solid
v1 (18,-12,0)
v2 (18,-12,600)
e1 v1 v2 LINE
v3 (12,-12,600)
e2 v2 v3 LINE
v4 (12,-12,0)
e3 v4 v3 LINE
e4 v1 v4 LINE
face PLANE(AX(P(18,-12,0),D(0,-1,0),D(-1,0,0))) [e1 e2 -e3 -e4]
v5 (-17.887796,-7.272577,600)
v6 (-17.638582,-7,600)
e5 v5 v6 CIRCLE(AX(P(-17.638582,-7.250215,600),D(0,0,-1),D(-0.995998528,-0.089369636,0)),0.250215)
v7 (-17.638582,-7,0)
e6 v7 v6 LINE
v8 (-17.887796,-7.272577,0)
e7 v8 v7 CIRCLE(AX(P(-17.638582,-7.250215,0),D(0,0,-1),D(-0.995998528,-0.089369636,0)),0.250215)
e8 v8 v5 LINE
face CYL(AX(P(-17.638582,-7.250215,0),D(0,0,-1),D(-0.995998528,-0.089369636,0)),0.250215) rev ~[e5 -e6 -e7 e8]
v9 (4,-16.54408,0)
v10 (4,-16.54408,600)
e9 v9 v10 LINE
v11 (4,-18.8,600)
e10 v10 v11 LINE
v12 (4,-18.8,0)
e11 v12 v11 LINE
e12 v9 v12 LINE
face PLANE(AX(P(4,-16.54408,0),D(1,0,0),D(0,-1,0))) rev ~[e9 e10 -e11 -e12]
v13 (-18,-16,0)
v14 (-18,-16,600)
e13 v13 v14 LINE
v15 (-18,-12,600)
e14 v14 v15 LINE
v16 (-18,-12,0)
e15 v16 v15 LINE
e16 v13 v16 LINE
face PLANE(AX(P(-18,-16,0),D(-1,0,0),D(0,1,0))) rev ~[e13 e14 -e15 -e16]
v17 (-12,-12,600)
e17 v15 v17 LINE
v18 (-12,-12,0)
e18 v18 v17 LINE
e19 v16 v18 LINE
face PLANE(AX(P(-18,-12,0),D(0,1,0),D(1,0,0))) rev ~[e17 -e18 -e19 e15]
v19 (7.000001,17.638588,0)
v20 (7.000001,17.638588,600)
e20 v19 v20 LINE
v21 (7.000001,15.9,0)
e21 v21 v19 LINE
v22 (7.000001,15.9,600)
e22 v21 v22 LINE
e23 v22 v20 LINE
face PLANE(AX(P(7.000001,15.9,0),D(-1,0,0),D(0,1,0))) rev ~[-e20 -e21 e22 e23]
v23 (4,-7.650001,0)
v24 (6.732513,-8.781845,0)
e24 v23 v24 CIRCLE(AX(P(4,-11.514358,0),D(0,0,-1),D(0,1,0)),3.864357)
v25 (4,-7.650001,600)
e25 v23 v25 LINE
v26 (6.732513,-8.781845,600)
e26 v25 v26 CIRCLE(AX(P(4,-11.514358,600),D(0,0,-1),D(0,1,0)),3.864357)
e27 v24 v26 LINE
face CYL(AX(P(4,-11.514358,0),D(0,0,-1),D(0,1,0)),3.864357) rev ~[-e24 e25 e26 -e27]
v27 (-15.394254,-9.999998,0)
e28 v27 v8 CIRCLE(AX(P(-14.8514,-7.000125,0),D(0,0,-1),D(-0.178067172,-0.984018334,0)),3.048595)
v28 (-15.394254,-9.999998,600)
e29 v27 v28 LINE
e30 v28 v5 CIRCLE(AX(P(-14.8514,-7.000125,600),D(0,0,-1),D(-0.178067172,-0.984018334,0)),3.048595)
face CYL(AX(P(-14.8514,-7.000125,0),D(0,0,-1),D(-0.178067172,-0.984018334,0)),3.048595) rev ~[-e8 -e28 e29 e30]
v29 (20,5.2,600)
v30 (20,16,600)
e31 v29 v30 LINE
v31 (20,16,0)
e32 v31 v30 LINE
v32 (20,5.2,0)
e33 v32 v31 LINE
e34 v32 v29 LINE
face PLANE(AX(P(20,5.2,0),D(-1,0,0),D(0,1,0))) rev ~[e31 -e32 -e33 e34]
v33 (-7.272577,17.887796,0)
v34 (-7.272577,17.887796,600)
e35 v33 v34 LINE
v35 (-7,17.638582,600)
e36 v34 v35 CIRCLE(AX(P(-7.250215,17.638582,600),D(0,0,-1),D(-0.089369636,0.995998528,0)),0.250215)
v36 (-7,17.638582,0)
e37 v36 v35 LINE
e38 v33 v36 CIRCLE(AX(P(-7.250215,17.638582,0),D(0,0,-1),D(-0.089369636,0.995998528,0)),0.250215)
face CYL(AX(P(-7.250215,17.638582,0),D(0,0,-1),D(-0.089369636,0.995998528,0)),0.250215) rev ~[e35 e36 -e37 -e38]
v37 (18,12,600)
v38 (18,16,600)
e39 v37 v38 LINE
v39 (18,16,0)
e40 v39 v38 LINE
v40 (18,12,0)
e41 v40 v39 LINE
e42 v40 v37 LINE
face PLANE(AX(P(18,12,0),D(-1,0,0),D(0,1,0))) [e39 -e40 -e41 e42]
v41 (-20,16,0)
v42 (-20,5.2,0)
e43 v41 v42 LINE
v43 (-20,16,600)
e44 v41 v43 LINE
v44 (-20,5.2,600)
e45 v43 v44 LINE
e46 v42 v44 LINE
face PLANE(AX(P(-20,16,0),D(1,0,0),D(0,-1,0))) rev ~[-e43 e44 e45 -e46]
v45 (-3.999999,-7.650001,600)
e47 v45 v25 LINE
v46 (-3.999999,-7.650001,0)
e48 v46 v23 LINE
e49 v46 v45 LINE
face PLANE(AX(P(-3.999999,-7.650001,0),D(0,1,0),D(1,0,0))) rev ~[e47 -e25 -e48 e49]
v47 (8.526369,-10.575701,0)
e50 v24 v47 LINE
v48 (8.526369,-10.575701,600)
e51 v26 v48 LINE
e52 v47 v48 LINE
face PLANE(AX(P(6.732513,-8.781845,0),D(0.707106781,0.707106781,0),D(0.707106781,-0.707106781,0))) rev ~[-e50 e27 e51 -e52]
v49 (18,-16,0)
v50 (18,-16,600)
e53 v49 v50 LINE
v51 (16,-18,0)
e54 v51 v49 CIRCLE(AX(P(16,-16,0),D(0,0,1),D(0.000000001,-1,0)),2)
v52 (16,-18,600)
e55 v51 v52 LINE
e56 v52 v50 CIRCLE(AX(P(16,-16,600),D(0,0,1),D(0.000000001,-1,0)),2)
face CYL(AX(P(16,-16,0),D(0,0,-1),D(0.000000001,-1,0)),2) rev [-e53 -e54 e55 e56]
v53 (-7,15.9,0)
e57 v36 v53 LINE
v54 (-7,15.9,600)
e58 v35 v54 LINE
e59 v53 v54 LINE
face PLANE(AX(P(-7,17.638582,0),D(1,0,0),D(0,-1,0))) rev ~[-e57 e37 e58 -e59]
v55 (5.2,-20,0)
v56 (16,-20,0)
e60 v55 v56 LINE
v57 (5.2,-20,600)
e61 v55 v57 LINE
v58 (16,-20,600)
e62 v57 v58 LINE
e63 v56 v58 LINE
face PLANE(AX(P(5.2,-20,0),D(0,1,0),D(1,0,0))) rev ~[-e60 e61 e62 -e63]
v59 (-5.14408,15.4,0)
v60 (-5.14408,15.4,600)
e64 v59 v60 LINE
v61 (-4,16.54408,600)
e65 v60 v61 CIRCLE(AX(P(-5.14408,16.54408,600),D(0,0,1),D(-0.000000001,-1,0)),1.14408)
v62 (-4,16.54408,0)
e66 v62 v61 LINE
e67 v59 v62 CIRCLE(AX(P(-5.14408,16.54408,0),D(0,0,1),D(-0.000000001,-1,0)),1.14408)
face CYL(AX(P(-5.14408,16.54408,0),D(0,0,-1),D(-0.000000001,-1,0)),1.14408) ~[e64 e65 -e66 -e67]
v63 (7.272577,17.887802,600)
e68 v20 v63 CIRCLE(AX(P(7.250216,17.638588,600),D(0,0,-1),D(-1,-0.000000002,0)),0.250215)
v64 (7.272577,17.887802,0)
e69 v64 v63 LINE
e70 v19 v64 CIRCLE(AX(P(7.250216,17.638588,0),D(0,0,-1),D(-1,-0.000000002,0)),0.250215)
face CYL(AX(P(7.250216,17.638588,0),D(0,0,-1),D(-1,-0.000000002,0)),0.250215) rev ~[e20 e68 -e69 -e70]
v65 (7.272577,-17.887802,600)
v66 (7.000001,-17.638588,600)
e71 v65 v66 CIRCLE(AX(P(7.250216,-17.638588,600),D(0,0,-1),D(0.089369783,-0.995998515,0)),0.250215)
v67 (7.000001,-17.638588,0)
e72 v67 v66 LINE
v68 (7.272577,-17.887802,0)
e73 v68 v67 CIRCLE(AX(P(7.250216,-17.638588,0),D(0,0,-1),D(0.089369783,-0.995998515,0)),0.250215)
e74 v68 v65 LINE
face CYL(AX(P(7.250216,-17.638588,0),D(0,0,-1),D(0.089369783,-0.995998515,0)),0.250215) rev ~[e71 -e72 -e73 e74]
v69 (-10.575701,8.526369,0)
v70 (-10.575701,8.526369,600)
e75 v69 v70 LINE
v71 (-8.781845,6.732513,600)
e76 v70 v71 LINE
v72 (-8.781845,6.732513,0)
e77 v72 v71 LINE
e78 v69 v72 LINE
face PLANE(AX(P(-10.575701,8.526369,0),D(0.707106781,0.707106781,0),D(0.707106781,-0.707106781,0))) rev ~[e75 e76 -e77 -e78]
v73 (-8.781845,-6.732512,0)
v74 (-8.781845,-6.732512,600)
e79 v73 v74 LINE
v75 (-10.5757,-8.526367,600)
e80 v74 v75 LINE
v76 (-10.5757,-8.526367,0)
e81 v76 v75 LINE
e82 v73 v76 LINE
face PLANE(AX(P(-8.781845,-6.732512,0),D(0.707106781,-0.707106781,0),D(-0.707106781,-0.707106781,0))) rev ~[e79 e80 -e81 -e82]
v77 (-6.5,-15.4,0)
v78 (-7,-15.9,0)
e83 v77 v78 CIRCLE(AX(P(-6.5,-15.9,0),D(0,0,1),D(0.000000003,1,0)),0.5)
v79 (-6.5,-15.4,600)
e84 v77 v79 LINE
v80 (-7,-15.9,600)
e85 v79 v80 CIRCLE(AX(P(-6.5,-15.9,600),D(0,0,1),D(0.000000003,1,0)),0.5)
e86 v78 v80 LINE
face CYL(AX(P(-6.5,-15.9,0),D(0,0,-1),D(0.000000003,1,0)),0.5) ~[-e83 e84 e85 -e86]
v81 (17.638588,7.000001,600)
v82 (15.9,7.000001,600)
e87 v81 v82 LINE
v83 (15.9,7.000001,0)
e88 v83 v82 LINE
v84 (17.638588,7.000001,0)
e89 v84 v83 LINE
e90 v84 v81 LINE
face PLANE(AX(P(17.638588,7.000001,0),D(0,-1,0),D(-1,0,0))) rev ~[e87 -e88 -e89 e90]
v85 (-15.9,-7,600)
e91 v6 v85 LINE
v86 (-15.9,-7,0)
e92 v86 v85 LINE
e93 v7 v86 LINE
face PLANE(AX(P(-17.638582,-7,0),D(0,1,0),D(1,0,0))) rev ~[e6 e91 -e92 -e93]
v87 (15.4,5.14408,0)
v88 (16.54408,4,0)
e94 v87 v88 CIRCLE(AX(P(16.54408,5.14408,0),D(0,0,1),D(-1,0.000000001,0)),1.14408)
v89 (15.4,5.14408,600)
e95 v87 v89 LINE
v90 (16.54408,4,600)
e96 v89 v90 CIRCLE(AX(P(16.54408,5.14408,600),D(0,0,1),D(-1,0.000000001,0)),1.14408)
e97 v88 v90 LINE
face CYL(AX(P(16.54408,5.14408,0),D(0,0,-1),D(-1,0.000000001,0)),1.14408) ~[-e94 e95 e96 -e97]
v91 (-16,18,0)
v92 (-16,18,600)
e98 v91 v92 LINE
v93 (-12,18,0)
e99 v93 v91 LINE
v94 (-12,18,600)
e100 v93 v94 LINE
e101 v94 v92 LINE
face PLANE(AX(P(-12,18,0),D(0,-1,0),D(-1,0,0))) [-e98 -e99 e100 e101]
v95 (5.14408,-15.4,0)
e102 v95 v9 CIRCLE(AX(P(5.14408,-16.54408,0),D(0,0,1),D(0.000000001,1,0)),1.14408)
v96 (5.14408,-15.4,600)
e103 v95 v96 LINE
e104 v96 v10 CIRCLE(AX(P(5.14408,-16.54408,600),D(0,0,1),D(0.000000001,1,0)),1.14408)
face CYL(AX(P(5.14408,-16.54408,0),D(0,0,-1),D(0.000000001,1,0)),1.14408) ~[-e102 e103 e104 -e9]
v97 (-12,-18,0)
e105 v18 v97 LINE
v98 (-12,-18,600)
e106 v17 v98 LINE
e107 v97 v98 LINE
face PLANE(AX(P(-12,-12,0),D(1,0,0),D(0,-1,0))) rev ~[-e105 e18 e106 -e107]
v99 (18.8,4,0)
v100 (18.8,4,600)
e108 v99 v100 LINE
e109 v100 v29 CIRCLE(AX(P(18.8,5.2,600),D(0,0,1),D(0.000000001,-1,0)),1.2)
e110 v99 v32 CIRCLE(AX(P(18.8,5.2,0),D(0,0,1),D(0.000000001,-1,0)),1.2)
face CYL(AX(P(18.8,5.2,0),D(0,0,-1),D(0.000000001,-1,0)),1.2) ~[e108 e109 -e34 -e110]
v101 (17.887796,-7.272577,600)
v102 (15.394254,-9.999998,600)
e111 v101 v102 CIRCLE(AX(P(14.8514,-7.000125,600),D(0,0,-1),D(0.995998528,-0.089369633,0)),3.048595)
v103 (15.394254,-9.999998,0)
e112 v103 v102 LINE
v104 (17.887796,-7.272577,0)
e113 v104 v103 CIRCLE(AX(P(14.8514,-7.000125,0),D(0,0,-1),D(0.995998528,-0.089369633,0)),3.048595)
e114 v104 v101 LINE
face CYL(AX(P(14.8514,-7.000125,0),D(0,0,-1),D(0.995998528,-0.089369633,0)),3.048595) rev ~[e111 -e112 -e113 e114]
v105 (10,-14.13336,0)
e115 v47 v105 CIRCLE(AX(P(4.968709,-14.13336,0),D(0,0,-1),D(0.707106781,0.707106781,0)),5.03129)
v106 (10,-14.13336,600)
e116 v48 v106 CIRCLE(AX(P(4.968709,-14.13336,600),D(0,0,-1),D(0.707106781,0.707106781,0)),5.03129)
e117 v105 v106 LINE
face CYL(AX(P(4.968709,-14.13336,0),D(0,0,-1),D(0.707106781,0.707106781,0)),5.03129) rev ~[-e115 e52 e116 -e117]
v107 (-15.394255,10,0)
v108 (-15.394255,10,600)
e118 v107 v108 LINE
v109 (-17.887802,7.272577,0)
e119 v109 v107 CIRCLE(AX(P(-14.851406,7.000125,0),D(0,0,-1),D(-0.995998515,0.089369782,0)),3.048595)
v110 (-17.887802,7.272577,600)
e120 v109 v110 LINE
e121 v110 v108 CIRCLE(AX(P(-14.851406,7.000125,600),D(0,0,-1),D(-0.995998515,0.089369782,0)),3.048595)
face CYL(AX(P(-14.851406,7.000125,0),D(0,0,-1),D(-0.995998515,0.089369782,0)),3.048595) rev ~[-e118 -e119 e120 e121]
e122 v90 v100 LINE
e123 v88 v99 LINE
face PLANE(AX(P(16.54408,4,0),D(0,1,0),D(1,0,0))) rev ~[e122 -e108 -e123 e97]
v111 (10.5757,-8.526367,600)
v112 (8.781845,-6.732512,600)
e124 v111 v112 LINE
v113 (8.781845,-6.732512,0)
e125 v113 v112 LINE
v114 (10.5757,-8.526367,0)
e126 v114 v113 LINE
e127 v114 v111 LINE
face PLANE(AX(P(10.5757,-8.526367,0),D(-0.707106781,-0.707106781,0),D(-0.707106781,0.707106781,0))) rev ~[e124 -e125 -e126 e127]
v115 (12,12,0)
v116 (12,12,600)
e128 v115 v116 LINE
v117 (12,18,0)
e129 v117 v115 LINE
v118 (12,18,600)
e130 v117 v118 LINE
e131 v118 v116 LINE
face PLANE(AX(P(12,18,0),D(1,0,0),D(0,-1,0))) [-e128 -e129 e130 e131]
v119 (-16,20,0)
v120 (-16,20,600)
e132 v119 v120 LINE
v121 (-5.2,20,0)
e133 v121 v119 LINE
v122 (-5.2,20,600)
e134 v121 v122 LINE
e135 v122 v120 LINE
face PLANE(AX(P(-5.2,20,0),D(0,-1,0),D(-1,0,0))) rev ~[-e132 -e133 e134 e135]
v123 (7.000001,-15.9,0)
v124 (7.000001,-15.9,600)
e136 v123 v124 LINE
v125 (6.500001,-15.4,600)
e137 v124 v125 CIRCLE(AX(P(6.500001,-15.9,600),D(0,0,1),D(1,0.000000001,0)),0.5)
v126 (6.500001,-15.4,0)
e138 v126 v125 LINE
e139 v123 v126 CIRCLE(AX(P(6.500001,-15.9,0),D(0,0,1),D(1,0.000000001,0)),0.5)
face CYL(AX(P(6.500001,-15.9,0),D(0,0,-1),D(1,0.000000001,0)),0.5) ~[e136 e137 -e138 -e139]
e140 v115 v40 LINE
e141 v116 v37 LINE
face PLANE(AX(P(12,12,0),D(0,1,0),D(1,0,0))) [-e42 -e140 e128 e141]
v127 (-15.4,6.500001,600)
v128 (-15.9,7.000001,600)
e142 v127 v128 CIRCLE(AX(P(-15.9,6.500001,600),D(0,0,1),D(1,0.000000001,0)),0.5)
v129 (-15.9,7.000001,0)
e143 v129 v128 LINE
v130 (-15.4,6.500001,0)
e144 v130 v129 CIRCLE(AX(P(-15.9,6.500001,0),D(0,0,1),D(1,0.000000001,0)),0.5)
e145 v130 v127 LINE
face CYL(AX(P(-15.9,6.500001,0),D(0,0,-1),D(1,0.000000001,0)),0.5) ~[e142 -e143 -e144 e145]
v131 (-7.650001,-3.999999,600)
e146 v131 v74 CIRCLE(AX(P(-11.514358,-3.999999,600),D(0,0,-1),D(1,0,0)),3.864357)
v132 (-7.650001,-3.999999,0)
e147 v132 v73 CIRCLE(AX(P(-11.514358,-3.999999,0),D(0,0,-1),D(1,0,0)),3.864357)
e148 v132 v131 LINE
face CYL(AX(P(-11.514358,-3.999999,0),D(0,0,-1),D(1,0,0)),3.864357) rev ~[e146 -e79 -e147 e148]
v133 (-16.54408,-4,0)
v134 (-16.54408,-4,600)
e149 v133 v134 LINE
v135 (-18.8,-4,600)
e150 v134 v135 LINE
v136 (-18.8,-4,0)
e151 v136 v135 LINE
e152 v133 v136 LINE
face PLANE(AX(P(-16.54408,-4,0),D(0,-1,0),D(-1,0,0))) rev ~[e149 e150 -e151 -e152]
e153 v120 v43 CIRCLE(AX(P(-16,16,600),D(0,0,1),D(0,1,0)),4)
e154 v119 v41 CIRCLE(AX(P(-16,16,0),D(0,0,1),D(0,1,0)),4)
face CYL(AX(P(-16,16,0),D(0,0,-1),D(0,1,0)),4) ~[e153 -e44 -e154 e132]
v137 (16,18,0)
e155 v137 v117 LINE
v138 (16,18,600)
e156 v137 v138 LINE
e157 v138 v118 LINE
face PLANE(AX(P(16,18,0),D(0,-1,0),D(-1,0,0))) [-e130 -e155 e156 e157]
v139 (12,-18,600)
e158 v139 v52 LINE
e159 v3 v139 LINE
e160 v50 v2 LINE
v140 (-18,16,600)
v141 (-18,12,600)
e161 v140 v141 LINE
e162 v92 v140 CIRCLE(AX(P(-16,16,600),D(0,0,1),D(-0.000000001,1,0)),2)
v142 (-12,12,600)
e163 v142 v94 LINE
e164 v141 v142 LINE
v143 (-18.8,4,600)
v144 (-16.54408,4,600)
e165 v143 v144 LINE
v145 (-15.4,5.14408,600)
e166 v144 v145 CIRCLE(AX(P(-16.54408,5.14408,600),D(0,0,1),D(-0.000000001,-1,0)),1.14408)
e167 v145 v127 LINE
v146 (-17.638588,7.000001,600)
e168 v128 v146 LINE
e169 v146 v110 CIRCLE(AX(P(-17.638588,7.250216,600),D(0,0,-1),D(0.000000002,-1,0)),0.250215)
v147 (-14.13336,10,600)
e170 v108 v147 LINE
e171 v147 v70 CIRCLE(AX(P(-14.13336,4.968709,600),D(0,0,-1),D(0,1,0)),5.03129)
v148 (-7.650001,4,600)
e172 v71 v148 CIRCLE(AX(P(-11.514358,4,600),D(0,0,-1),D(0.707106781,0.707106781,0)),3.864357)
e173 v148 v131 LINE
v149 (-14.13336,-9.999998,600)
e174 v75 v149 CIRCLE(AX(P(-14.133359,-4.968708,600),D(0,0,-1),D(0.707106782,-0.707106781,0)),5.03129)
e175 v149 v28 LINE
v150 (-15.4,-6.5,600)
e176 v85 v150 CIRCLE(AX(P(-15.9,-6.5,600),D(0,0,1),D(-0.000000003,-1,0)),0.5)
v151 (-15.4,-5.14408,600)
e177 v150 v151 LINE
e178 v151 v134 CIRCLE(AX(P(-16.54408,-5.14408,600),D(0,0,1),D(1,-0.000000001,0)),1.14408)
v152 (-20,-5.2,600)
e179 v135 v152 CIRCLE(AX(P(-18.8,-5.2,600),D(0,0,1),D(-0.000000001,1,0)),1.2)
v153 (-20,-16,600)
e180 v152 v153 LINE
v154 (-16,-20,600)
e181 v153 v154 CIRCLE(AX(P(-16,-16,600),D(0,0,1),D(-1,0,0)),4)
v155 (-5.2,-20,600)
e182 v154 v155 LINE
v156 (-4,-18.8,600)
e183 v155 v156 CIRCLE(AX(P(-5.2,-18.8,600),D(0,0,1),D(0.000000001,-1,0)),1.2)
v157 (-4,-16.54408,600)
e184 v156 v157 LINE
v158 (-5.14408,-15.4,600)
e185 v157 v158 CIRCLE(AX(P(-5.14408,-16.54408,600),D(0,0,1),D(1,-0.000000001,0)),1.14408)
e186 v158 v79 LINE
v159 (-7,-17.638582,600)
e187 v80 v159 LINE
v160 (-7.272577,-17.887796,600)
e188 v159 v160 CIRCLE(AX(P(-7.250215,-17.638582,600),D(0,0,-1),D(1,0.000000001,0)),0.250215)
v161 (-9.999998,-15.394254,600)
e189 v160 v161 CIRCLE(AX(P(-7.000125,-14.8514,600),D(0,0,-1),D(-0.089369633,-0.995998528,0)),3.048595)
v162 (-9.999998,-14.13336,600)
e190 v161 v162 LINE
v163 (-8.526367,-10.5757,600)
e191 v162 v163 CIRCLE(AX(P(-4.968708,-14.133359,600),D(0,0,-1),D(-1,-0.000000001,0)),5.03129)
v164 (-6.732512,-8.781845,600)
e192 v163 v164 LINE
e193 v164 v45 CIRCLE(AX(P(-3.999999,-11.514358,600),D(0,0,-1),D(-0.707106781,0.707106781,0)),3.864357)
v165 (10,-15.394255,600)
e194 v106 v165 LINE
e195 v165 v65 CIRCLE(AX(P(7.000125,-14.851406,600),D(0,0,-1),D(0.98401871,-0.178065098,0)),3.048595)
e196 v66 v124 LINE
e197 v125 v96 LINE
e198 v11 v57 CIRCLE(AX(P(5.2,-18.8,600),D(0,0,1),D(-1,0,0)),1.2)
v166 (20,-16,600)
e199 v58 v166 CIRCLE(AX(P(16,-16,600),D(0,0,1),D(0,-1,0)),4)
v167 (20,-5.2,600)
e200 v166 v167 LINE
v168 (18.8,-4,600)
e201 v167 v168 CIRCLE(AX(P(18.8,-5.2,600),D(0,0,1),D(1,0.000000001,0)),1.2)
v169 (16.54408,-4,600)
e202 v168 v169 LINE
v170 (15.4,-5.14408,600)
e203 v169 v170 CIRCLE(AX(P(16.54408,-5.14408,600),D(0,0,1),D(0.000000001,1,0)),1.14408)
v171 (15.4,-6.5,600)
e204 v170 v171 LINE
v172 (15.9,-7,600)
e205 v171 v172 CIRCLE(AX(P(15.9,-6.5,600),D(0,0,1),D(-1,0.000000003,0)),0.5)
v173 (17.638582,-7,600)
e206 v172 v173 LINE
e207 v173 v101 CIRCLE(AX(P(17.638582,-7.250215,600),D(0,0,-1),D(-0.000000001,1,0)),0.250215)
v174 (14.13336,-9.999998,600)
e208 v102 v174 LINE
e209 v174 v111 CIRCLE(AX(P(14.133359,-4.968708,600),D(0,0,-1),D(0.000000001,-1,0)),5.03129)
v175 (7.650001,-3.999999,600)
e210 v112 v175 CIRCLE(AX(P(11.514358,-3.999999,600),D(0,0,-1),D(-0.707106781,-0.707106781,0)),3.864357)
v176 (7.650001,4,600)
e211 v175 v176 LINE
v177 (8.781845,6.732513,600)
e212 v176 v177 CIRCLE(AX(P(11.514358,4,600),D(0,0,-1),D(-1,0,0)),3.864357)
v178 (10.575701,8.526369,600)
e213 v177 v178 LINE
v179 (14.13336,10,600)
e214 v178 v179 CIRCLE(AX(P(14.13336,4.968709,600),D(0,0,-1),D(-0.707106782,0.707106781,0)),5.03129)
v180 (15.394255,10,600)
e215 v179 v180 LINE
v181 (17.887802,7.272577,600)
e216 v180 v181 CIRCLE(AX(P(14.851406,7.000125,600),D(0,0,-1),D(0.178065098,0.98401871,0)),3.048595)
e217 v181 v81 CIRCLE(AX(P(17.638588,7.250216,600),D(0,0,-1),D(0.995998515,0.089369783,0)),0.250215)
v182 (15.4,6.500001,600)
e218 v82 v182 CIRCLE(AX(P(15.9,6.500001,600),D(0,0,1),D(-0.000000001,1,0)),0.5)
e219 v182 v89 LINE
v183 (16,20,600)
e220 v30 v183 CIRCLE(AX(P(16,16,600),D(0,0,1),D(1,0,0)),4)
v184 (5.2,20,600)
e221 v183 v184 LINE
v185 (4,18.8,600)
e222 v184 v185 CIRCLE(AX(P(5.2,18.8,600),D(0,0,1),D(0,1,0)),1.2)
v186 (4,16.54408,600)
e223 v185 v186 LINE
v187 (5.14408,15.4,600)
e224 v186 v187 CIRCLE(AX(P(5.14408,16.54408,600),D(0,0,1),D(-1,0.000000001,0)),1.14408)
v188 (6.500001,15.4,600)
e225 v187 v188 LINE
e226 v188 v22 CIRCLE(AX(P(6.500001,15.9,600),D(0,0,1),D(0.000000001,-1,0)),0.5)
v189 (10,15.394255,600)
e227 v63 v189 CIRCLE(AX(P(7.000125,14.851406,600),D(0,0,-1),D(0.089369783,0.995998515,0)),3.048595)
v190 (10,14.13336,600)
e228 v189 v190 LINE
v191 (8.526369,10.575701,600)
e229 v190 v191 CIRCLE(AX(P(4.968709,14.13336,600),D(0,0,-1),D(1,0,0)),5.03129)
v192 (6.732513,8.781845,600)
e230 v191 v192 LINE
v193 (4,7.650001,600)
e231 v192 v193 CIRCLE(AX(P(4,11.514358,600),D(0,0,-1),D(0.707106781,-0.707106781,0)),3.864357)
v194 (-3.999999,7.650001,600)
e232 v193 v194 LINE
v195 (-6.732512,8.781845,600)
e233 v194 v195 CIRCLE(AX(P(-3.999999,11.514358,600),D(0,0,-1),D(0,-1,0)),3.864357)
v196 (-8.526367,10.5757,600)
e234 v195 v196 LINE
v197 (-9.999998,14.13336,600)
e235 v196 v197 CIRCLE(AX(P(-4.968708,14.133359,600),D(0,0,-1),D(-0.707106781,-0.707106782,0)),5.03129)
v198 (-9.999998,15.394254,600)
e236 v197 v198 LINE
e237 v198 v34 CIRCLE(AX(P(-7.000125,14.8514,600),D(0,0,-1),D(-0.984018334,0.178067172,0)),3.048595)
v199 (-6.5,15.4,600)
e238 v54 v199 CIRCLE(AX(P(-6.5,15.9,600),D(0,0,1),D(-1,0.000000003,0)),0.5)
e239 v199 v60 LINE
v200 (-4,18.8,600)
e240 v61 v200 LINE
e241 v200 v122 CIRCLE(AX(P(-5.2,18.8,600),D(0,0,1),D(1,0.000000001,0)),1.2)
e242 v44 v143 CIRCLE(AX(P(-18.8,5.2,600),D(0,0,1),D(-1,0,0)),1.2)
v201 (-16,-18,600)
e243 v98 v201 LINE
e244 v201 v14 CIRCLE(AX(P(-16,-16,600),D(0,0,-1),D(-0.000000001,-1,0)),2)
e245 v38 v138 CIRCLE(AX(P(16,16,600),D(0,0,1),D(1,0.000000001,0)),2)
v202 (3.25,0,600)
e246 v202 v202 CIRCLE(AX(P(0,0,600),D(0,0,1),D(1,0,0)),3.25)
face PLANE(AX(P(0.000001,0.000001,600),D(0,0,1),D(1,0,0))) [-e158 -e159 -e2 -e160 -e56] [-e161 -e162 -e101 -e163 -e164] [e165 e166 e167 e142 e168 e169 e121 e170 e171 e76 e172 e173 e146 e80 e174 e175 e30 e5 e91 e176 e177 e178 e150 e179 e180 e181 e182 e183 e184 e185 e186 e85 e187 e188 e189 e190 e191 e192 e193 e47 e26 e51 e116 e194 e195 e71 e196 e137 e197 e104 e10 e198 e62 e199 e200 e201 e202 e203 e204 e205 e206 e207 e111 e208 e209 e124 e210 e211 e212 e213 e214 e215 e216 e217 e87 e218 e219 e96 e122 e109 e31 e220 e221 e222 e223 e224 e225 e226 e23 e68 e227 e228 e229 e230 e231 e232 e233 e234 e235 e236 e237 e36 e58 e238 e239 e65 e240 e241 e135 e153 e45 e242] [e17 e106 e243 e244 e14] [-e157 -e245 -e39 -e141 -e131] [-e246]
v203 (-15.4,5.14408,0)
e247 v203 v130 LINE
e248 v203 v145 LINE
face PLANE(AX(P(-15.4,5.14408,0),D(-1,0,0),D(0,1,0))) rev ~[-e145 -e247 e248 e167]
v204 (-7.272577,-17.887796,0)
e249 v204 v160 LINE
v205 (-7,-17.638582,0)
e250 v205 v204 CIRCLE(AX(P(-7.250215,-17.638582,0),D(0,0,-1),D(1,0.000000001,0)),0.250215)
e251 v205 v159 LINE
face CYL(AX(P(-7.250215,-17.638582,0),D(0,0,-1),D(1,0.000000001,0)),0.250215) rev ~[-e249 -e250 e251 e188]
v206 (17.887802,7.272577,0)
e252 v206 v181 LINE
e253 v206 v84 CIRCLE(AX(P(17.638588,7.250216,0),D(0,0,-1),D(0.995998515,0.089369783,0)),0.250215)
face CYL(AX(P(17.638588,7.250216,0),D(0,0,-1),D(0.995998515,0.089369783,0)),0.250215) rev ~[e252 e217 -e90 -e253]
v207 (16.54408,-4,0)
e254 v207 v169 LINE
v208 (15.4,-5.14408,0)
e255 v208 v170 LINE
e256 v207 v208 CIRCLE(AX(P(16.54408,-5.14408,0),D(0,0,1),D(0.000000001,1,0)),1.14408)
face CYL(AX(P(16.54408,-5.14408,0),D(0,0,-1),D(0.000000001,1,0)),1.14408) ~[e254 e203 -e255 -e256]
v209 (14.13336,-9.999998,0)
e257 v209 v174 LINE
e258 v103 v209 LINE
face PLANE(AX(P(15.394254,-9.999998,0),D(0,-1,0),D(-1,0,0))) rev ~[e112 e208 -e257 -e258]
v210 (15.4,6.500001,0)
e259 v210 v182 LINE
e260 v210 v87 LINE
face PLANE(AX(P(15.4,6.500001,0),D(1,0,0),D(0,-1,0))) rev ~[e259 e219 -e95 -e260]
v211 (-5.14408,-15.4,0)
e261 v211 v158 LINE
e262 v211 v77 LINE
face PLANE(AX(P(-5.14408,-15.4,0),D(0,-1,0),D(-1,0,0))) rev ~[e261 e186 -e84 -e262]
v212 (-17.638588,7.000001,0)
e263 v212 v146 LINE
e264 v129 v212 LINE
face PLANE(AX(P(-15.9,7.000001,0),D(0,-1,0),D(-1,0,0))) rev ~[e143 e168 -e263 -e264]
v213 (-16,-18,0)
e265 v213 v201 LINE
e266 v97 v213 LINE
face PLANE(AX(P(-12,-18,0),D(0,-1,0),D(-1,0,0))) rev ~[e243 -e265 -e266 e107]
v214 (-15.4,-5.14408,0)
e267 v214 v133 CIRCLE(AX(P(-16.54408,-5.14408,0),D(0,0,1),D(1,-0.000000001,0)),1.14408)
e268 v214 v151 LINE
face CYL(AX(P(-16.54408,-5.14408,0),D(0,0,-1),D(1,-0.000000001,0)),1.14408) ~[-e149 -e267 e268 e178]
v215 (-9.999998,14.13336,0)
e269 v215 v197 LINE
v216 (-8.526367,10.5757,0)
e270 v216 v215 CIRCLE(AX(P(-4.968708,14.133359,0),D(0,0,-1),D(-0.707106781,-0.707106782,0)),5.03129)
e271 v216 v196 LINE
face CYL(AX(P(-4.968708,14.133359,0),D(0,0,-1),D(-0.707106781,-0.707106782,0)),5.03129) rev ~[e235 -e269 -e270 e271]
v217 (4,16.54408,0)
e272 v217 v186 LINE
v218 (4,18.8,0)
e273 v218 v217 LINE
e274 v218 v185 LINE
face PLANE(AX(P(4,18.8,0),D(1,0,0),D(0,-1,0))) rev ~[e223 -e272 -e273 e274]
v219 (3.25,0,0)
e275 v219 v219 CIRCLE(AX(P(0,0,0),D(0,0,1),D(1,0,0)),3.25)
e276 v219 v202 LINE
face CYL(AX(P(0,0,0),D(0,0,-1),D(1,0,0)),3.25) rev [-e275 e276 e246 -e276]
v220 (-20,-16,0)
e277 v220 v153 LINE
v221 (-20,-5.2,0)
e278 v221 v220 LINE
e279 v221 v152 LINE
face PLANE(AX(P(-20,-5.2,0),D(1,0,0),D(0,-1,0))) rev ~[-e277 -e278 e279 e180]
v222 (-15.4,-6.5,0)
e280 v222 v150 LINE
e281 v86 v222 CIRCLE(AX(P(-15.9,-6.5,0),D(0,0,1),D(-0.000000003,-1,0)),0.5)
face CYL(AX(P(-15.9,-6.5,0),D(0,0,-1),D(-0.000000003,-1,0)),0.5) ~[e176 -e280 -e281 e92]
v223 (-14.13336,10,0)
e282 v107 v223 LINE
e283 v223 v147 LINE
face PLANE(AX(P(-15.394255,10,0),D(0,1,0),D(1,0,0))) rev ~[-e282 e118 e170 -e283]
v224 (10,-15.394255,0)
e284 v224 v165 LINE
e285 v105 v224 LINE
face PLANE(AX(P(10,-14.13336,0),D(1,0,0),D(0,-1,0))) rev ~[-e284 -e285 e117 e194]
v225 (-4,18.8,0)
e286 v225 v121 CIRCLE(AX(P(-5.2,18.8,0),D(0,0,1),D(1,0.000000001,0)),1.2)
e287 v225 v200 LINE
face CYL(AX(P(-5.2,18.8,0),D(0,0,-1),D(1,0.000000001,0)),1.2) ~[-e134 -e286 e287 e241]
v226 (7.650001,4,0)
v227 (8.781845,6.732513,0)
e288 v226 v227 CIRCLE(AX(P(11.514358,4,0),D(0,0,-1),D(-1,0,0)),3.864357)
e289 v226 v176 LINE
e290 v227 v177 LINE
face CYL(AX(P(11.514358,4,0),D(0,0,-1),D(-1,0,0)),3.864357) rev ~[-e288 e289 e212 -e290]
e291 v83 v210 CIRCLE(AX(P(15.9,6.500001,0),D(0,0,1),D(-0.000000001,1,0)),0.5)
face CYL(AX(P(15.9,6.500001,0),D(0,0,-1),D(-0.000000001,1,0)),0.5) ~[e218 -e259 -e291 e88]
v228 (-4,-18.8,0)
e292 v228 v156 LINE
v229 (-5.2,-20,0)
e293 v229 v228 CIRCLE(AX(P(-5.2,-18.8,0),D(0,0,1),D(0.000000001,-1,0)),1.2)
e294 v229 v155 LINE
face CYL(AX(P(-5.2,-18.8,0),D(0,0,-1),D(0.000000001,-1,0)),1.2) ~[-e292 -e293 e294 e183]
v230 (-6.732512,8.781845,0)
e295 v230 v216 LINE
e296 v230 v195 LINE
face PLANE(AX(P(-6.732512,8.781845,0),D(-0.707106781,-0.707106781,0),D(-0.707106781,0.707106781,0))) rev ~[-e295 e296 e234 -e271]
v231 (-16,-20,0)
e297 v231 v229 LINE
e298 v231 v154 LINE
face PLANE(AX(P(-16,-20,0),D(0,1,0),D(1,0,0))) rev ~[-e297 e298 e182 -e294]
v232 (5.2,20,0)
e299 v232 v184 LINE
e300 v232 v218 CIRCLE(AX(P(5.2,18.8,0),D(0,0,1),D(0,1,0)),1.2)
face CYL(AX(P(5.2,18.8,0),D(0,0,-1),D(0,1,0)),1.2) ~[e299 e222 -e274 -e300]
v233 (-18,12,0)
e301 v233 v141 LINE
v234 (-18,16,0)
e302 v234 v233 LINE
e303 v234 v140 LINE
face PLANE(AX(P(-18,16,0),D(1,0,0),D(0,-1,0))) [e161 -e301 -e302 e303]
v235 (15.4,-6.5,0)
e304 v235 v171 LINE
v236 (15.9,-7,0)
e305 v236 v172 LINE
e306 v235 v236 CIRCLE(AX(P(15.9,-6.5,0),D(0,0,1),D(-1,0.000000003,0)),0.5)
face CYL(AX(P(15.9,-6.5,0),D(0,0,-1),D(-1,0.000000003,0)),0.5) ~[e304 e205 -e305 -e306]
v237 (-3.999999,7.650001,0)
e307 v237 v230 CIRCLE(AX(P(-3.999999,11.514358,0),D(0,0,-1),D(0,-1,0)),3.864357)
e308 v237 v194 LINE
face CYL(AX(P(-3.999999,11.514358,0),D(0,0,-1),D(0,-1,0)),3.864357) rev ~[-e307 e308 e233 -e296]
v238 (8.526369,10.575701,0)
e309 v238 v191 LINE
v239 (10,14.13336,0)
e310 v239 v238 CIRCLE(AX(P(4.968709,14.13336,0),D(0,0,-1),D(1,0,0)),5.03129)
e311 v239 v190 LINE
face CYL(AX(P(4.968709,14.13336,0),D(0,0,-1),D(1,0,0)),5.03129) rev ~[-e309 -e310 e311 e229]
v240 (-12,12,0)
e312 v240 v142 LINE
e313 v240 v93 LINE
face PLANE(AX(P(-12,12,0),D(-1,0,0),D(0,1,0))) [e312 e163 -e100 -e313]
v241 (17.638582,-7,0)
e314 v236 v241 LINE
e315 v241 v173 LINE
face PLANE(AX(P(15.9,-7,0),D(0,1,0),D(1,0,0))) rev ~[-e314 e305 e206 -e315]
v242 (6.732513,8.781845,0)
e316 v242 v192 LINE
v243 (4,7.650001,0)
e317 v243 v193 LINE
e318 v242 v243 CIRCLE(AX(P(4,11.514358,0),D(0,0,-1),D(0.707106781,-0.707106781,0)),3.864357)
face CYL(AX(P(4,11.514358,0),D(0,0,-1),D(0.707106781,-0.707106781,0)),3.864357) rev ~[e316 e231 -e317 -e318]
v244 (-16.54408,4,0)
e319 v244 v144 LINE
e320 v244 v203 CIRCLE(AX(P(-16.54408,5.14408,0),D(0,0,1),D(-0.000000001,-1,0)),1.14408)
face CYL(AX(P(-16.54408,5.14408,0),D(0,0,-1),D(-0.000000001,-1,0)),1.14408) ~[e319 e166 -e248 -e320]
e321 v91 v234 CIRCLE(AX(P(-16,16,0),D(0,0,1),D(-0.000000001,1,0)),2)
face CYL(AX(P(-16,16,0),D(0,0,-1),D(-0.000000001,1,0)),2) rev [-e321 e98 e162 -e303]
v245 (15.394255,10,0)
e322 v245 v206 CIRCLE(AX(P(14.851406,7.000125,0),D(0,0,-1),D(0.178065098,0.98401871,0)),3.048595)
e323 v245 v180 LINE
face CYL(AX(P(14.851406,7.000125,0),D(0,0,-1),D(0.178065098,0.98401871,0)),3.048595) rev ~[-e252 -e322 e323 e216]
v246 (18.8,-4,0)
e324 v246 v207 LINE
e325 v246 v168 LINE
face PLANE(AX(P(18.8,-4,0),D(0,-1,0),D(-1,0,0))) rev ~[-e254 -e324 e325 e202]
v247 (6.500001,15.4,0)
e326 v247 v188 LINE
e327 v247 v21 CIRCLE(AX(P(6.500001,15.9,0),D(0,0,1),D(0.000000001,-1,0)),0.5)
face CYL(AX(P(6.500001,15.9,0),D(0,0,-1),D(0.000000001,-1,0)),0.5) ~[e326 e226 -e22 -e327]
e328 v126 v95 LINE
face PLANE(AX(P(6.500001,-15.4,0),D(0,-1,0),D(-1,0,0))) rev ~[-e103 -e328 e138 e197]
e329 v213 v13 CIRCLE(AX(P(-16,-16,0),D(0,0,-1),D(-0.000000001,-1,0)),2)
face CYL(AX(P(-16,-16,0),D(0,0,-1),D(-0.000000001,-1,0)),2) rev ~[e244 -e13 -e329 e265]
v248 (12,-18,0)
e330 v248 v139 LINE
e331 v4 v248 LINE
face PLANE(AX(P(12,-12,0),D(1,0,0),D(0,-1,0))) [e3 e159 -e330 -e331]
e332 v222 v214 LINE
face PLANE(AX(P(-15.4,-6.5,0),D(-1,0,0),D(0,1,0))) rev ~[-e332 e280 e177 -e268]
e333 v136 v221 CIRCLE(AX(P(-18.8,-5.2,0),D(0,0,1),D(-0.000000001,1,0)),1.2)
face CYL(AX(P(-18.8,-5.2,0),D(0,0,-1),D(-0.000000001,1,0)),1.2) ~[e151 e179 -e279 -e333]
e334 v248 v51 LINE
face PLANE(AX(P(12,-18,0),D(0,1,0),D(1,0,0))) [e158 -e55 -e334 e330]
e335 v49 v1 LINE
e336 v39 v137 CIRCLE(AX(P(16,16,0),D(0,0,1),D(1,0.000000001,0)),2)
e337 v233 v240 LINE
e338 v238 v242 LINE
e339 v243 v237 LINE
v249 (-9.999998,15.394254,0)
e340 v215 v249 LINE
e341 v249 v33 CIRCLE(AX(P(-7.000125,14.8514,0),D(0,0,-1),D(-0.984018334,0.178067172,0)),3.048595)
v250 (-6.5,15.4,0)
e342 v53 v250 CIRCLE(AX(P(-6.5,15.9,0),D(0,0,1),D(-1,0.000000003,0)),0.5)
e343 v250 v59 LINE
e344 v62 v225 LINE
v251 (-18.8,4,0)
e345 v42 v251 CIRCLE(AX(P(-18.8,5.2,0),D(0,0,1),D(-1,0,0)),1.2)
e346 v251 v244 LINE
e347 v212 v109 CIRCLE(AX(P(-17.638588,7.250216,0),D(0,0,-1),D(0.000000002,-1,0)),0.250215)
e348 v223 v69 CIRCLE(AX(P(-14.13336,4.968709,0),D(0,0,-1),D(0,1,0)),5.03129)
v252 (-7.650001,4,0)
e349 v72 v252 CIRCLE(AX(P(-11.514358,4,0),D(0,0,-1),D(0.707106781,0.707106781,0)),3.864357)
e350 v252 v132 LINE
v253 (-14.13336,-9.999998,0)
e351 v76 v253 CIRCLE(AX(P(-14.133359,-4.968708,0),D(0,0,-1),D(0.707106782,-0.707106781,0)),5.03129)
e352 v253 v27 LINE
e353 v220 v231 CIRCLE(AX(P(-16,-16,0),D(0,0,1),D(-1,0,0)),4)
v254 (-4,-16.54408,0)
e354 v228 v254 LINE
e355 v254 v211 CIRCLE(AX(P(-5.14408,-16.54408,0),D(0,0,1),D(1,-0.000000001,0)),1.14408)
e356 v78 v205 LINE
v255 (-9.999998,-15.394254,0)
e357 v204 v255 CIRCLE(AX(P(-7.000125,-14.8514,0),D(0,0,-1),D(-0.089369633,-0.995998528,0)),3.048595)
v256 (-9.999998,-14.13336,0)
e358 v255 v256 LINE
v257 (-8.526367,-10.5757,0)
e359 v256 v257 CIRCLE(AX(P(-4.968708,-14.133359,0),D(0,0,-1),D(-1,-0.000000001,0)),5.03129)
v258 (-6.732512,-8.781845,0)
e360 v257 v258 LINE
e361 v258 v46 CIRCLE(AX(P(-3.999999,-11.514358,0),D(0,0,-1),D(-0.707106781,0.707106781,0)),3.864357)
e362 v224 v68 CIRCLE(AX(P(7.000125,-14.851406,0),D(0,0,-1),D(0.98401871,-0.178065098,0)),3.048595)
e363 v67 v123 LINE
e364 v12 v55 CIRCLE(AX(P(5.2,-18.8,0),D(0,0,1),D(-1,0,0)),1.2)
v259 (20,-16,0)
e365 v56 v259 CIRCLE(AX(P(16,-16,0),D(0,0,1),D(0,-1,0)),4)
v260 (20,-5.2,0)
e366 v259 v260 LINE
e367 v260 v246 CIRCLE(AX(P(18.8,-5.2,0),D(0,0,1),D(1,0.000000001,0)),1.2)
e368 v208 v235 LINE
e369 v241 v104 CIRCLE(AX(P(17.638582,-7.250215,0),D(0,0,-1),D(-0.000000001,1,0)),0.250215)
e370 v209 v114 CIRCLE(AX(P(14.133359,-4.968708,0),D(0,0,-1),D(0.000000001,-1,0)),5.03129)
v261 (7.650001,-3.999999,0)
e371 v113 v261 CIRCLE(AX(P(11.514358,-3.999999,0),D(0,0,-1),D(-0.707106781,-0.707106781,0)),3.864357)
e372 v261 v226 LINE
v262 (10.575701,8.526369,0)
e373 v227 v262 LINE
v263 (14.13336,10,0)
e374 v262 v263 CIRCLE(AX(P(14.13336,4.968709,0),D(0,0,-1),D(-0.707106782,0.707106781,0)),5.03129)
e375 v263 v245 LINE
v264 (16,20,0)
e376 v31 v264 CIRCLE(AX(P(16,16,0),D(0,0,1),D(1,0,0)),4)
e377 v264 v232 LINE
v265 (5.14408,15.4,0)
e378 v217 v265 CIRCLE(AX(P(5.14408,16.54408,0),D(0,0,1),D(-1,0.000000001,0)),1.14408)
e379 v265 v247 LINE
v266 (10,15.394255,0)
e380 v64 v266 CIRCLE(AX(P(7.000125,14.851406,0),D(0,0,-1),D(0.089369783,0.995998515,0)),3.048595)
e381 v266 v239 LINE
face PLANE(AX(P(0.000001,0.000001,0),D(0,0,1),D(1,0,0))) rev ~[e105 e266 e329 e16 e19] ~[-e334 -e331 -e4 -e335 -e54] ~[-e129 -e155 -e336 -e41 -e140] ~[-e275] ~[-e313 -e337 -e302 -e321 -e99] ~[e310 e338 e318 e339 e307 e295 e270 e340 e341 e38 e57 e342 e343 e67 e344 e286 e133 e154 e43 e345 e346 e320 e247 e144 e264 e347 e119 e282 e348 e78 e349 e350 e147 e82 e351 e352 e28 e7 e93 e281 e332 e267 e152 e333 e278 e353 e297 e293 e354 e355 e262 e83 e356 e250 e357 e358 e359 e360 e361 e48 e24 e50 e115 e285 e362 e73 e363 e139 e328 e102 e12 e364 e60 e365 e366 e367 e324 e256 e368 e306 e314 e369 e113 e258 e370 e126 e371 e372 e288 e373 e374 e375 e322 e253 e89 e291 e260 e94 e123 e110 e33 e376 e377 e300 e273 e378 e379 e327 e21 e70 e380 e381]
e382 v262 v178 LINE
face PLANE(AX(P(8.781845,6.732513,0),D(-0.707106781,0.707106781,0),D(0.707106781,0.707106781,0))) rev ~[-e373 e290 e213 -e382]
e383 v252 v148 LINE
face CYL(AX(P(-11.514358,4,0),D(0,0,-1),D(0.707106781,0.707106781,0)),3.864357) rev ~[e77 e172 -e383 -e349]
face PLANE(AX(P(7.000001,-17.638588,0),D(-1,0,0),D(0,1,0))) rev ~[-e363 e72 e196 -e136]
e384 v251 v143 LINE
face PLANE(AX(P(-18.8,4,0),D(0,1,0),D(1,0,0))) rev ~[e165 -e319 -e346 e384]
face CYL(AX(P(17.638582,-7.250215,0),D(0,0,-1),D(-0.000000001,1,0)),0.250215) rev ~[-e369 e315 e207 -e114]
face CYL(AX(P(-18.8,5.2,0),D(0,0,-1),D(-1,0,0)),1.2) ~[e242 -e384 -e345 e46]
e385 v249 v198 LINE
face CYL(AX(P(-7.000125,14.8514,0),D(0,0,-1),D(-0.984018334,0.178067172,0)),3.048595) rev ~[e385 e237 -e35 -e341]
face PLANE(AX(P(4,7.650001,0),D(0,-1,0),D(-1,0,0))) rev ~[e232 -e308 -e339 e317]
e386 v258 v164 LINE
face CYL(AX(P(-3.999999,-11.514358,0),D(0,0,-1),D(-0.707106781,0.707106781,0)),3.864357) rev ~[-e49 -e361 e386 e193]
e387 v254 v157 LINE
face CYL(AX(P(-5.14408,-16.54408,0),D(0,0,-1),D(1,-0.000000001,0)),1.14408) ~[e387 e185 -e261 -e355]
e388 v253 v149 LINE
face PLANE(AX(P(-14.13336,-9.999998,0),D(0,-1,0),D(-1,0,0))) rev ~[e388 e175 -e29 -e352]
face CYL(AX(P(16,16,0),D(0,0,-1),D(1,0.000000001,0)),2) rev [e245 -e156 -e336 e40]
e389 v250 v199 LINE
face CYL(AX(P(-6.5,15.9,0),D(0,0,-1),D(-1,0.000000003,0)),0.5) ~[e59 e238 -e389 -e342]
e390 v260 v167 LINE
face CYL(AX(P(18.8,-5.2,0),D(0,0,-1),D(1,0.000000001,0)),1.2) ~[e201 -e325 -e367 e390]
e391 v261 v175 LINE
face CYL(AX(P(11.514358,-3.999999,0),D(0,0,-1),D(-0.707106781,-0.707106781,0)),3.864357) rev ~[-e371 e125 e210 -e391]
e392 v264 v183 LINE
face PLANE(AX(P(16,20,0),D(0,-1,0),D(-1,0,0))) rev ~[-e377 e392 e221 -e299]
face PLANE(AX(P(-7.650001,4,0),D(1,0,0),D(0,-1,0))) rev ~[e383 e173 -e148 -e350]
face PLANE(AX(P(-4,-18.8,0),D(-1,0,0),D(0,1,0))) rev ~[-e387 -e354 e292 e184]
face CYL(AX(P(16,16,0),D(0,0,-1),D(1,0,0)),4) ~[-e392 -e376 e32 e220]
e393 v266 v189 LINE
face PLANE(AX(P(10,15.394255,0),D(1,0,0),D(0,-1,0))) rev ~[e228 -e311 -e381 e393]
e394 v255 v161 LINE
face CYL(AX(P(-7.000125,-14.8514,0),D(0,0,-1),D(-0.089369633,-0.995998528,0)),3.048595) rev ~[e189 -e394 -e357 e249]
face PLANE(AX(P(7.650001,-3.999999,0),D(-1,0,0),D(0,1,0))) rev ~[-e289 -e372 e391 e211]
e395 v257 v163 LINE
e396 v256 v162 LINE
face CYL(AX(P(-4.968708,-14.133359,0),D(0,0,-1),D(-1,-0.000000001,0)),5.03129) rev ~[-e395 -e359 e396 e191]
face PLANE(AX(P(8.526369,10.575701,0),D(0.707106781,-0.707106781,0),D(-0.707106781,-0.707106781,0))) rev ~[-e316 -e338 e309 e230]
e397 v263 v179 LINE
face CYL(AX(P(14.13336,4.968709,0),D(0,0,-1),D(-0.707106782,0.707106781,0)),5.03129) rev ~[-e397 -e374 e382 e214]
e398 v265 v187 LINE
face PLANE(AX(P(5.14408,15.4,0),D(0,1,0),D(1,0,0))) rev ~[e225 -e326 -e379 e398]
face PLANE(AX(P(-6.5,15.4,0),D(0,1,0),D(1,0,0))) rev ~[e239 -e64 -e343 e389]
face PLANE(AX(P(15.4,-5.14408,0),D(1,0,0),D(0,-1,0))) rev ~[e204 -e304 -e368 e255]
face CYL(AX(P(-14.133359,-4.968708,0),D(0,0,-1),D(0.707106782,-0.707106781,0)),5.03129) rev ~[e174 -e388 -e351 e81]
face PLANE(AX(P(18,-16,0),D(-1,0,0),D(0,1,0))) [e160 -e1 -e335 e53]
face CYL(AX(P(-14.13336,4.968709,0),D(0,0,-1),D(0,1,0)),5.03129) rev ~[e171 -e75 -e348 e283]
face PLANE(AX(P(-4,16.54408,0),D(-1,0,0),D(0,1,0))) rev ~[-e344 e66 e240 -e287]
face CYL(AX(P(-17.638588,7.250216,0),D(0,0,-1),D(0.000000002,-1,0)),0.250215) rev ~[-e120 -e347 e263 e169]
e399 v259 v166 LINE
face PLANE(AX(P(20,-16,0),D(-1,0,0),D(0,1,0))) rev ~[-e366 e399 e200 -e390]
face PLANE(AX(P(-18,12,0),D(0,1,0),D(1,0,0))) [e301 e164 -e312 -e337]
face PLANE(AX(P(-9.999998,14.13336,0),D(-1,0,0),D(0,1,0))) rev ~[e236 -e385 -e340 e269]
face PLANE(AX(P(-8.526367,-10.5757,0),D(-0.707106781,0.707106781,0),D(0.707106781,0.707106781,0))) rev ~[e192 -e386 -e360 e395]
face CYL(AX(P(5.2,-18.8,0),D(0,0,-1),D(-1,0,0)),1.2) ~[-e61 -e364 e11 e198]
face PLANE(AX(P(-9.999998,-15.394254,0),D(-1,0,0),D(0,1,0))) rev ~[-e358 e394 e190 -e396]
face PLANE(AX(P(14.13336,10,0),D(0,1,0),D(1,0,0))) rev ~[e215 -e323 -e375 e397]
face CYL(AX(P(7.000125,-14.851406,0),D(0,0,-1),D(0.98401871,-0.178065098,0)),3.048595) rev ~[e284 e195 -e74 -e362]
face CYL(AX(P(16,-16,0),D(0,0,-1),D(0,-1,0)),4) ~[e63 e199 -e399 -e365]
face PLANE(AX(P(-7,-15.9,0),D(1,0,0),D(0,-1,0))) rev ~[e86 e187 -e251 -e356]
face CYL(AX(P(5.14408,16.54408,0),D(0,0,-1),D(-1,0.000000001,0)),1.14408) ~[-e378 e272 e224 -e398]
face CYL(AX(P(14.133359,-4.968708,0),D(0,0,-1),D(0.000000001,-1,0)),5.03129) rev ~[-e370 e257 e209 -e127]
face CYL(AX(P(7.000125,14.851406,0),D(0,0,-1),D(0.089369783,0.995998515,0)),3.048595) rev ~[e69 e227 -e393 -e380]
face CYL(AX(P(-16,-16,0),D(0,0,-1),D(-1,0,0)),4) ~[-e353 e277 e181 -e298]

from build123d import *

# Parameters (mm, degrees)
CROQUIS1_R              = 3.25
SALIENTE_EXTRUIR1_DEPTH = 600


with BuildPart() as part:
    # Croquis1 → Saliente-Extruir1 (new body)
    with BuildSketch(Plane.XY):
        with BuildLine():
            Line((17.638588183, 7.000000593), (15.9, 7.000000593))
            ThreePointArc((15.9, 7.000000593), (15.546446609, 6.853553983), (15.4, 6.500000593))
            Line((15.4, 6.500000593), (15.4, 5.144079725))
            ThreePointArc((15.4, 5.144079725), (15.735093193, 4.335093193), (16.544079725, 4))
            Line((16.544079725, 4), (18.8, 4))
            ThreePointArc((18.8, 4), (19.648528137, 4.351471863), (20, 5.2))
            Line((20, 5.2), (20, 16))
            ThreePointArc((20, 16), (18.828427125, 18.828427125), (16, 20))
            Line((16, 20), (5.2, 20))
            ThreePointArc((5.2, 20), (4.351471862, 19.648528137), (4, 18.8))
            Line((4, 18.8), (4, 16.544079725))
            ThreePointArc((4, 16.544079725), (4.335093193, 15.735093193), (5.144079725, 15.4))
            Line((5.144079725, 15.4), (6.500000593, 15.4))
            ThreePointArc((6.500000593, 15.4), (6.853553983, 15.546446609), (7.000000593, 15.9))
            Line((7.000000593, 15.9), (7.000000593, 17.638588183))
            ThreePointArc((7.000000593, 17.638588183), (7.081377983, 17.823253941), (7.272577483, 17.887802162))
            ThreePointArc((7.272577483, 17.887802162), (9.057180209, 17.101396285), (9.99999956, 15.394254591))
            Line((9.99999956, 15.394254591), (9.99999956, 14.133359942))
            ThreePointArc((9.99999956, 14.133359942), (9.617015406, 12.207968581), (8.52636881, 10.575700602))
            Line((8.52636881, 10.575700602), (6.732513057, 8.781844848))
            ThreePointArc((6.732513057, 8.781844848), (5.47882541, 7.944157544), (4, 7.650000881))
            Line((4, 7.650000881), (-3.999999119, 7.650000881))
            ThreePointArc((-3.999999119, 7.650000881), (-5.478824529, 7.944157544), (-6.732512176, 8.781844848))
            Line((-6.732512176, 8.781844848), (-8.526367489, 10.575700161))
            ThreePointArc((-8.526367489, 10.575700161), (-9.617014085, 12.207968141), (-9.999998238, 14.133359502))
            Line((-9.999998238, 14.133359502), (-9.999998238, 15.394254272))
            ThreePointArc((-9.999998238, 15.394254272), (-9.057177493, 17.101391964), (-7.272576853, 17.887795559))
            ThreePointArc((-7.272576853, 17.887795559), (-7.081377376, 17.823247322), (-7, 17.638581577))
            Line((-7, 17.638581577), (-7, 15.9))
            ThreePointArc((-7, 15.9), (-6.853553391, 15.546446609), (-6.5, 15.4))
            Line((-6.5, 15.4), (-5.144079725, 15.4))
            ThreePointArc((-5.144079725, 15.4), (-4.335093193, 15.735093193), (-4, 16.544079725))
            Line((-4, 16.544079725), (-4, 18.8))
            ThreePointArc((-4, 18.8), (-4.351471863, 19.648528137), (-5.2, 20))
            Line((-5.2, 20), (-16, 20))
            ThreePointArc((-16, 20), (-18.828427125, 18.828427125), (-20, 16))
            Line((-20, 16), (-20, 5.2))
            ThreePointArc((-20, 5.2), (-19.648528137, 4.351471862), (-18.8, 4))
            Line((-18.8, 4), (-16.544079725, 4))
            ThreePointArc((-16.544079725, 4), (-15.735093193, 4.335093193), (-15.4, 5.144079725))
            Line((-15.4, 5.144079725), (-15.4, 6.500000593))
            ThreePointArc((-15.4, 6.500000593), (-15.546446609, 6.853553983), (-15.9, 7.000000593))
            Line((-15.9, 7.000000593), (-17.638588183, 7.000000593))
            ThreePointArc((-17.638588183, 7.000000593), (-17.823253941, 7.081377983), (-17.887802162, 7.272577483))
            ThreePointArc((-17.887802162, 7.272577483), (-17.101396286, 9.057180209), (-15.394254591, 9.99999956))
            Line((-15.394254591, 9.99999956), (-14.133359942, 9.99999956))
            ThreePointArc((-14.133359942, 9.99999956), (-12.207968582, 9.617015406), (-10.575700602, 8.52636881))
            Line((-10.575700602, 8.52636881), (-8.781844848, 6.732513057))
            ThreePointArc((-8.781844848, 6.732513057), (-7.944157544, 5.47882541), (-7.650000881, 4))
            Line((-7.650000881, 4), (-7.650000881, -3.999999119))
            ThreePointArc((-7.650000881, -3.999999119), (-7.944157544, -5.478824529), (-8.781844848, -6.732512176))
            Line((-8.781844848, -6.732512176), (-10.575700161, -8.526367489))
            ThreePointArc((-10.575700161, -8.526367489), (-12.207968141, -9.617014085), (-14.133359502, -9.999998238))
            Line((-14.133359502, -9.999998238), (-15.394254272, -9.999998238))
            ThreePointArc((-15.394254272, -9.999998238), (-17.101391964, -9.057177493), (-17.887795559, -7.272576853))
            ThreePointArc((-17.887795559, -7.272576853), (-17.823247322, -7.081377376), (-17.638581577, -7))
            Line((-17.638581577, -7), (-15.9, -7))
            ThreePointArc((-15.9, -7), (-15.546446609, -6.853553391), (-15.4, -6.5))
            Line((-15.4, -6.5), (-15.4, -5.144079725))
            ThreePointArc((-15.4, -5.144079725), (-15.735093193, -4.335093193), (-16.544079725, -4))
            Line((-16.544079725, -4), (-18.8, -4))
            ThreePointArc((-18.8, -4), (-19.648528137, -4.351471863), (-20, -5.2))
            Line((-20, -5.2), (-20, -16))
            ThreePointArc((-20, -16), (-18.828427125, -18.828427125), (-16, -20))
            Line((-16, -20), (-5.2, -20))
            ThreePointArc((-5.2, -20), (-4.351471863, -19.648528137), (-4, -18.8))
            Line((-4, -18.8), (-4, -16.544079725))
            ThreePointArc((-4, -16.544079725), (-4.335093193, -15.735093193), (-5.144079725, -15.4))
            Line((-5.144079725, -15.4), (-6.5, -15.4))
            ThreePointArc((-6.5, -15.4), (-6.853553391, -15.546446609), (-7, -15.9))
            Line((-7, -15.9), (-7, -17.638581577))
            ThreePointArc((-7, -17.638581577), (-7.081377376, -17.823247322), (-7.272576853, -17.887795559))
            ThreePointArc((-7.272576853, -17.887795559), (-9.057177493, -17.101391964), (-9.999998238, -15.394254272))
            Line((-9.999998238, -15.394254272), (-9.999998238, -14.133359502))
            ThreePointArc((-9.999998238, -14.133359502), (-9.617014085, -12.207968141), (-8.526367489, -10.575700161))
            Line((-8.526367489, -10.575700161), (-6.732512176, -8.781844848))
            ThreePointArc((-6.732512176, -8.781844848), (-5.478824529, -7.944157544), (-3.999999119, -7.650000881))
            Line((-3.999999119, -7.650000881), (4, -7.650000881))
            ThreePointArc((4, -7.650000881), (5.47882541, -7.944157544), (6.732513057, -8.781844848))
            Line((6.732513057, -8.781844848), (8.52636881, -10.575700602))
            ThreePointArc((8.52636881, -10.575700602), (9.617015406, -12.207968582), (9.99999956, -14.133359942))
            Line((9.99999956, -14.133359942), (9.99999956, -15.394254591))
            ThreePointArc((9.99999956, -15.394254591), (9.057180209, -17.101396286), (7.272577483, -17.887802162))
            ThreePointArc((7.272577483, -17.887802162), (7.081377983, -17.823253941), (7.000000593, -17.638588183))
            Line((7.000000593, -17.638588183), (7.000000593, -15.9))
            ThreePointArc((7.000000593, -15.9), (6.853553983, -15.546446609), (6.500000593, -15.4))
            Line((6.500000593, -15.4), (5.144079725, -15.4))
            ThreePointArc((5.144079725, -15.4), (4.335093193, -15.735093193), (4, -16.544079725))
            Line((4, -16.544079725), (4, -18.8))
            ThreePointArc((4, -18.8), (4.351471862, -19.648528137), (5.2, -20))
            Line((5.2, -20), (16, -20))
            ThreePointArc((16, -20), (18.828427125, -18.828427125), (20, -16))
            Line((20, -16), (20, -5.2))
            ThreePointArc((20, -5.2), (19.648528137, -4.351471863), (18.8, -4))
            Line((18.8, -4), (16.544079725, -4))
            ThreePointArc((16.544079725, -4), (15.735093193, -4.335093193), (15.4, -5.144079725))
            Line((15.4, -5.144079725), (15.4, -6.5))
            ThreePointArc((15.4, -6.5), (15.546446609, -6.853553391), (15.9, -7))
            Line((15.9, -7), (17.638581577, -7))
            ThreePointArc((17.638581577, -7), (17.823247322, -7.081377376), (17.887795559, -7.272576853))
            ThreePointArc((17.887795559, -7.272576853), (17.101391964, -9.057177493), (15.394254272, -9.999998238))
            Line((15.394254272, -9.999998238), (14.133359502, -9.999998238))
            ThreePointArc((14.133359502, -9.999998238), (12.207968141, -9.617014085), (10.575700161, -8.526367489))
            Line((10.575700161, -8.526367489), (8.781844848, -6.732512176))
            ThreePointArc((8.781844848, -6.732512176), (7.944157544, -5.478824529), (7.650000881, -3.999999119))
            Line((7.650000881, -3.999999119), (7.650000881, 4))
            ThreePointArc((7.650000881, 4), (7.944157544, 5.47882541), (8.781844848, 6.732513057))
            Line((8.781844848, 6.732513057), (10.575700602, 8.52636881))
            ThreePointArc((10.575700602, 8.52636881), (12.207968581, 9.617015406), (14.133359942, 9.99999956))
            Line((14.133359942, 9.99999956), (15.394254591, 9.99999956))
            ThreePointArc((15.394254591, 9.99999956), (17.101396285, 9.057180209), (17.887802162, 7.272577483))
            ThreePointArc((17.887802162, 7.272577483), (17.823253941, 7.081377983), (17.638588183, 7.000000593))
        make_face()
        Circle(CROQUIS1_R, mode=Mode.SUBTRACT)
        with BuildLine():
            Line((-12, -18), (-16, -18))
            ThreePointArc((-16, -18), (-17.414213562, -17.414213562), (-18, -16))
            Line((-18, -16), (-18, -12))
            Line((-18, -12), (-12, -12))
            Line((-12, -12), (-12, -18))
        make_face(mode=Mode.SUBTRACT)
        with BuildLine():
            Line((18, -16), (18, -12))
            Line((18, -12), (12, -12))
            Line((12, -12), (12, -18))
            Line((12, -18), (16, -18))
            ThreePointArc((16, -18), (17.414213562, -17.414213562), (18, -16))
        make_face(mode=Mode.SUBTRACT)
        with BuildLine():
            Line((16, 18), (12, 18))
            Line((12, 18), (12, 12))
            Line((12, 12), (18, 12))
            Line((18, 12), (18, 16))
            ThreePointArc((18, 16), (17.414213562, 17.414213562), (16, 18))
        make_face(mode=Mode.SUBTRACT)
        with BuildLine():
            Line((-18, 16), (-18, 12))
            Line((-18, 12), (-12, 12))
            Line((-12, 12), (-12, 18))
            Line((-12, 18), (-16, 18))
            ThreePointArc((-16, 18), (-17.414213562, 17.414213562), (-18, 16))
        make_face(mode=Mode.SUBTRACT)
    extrude(amount=SALIENTE_EXTRUIR1_DEPTH)


solid = part.part
